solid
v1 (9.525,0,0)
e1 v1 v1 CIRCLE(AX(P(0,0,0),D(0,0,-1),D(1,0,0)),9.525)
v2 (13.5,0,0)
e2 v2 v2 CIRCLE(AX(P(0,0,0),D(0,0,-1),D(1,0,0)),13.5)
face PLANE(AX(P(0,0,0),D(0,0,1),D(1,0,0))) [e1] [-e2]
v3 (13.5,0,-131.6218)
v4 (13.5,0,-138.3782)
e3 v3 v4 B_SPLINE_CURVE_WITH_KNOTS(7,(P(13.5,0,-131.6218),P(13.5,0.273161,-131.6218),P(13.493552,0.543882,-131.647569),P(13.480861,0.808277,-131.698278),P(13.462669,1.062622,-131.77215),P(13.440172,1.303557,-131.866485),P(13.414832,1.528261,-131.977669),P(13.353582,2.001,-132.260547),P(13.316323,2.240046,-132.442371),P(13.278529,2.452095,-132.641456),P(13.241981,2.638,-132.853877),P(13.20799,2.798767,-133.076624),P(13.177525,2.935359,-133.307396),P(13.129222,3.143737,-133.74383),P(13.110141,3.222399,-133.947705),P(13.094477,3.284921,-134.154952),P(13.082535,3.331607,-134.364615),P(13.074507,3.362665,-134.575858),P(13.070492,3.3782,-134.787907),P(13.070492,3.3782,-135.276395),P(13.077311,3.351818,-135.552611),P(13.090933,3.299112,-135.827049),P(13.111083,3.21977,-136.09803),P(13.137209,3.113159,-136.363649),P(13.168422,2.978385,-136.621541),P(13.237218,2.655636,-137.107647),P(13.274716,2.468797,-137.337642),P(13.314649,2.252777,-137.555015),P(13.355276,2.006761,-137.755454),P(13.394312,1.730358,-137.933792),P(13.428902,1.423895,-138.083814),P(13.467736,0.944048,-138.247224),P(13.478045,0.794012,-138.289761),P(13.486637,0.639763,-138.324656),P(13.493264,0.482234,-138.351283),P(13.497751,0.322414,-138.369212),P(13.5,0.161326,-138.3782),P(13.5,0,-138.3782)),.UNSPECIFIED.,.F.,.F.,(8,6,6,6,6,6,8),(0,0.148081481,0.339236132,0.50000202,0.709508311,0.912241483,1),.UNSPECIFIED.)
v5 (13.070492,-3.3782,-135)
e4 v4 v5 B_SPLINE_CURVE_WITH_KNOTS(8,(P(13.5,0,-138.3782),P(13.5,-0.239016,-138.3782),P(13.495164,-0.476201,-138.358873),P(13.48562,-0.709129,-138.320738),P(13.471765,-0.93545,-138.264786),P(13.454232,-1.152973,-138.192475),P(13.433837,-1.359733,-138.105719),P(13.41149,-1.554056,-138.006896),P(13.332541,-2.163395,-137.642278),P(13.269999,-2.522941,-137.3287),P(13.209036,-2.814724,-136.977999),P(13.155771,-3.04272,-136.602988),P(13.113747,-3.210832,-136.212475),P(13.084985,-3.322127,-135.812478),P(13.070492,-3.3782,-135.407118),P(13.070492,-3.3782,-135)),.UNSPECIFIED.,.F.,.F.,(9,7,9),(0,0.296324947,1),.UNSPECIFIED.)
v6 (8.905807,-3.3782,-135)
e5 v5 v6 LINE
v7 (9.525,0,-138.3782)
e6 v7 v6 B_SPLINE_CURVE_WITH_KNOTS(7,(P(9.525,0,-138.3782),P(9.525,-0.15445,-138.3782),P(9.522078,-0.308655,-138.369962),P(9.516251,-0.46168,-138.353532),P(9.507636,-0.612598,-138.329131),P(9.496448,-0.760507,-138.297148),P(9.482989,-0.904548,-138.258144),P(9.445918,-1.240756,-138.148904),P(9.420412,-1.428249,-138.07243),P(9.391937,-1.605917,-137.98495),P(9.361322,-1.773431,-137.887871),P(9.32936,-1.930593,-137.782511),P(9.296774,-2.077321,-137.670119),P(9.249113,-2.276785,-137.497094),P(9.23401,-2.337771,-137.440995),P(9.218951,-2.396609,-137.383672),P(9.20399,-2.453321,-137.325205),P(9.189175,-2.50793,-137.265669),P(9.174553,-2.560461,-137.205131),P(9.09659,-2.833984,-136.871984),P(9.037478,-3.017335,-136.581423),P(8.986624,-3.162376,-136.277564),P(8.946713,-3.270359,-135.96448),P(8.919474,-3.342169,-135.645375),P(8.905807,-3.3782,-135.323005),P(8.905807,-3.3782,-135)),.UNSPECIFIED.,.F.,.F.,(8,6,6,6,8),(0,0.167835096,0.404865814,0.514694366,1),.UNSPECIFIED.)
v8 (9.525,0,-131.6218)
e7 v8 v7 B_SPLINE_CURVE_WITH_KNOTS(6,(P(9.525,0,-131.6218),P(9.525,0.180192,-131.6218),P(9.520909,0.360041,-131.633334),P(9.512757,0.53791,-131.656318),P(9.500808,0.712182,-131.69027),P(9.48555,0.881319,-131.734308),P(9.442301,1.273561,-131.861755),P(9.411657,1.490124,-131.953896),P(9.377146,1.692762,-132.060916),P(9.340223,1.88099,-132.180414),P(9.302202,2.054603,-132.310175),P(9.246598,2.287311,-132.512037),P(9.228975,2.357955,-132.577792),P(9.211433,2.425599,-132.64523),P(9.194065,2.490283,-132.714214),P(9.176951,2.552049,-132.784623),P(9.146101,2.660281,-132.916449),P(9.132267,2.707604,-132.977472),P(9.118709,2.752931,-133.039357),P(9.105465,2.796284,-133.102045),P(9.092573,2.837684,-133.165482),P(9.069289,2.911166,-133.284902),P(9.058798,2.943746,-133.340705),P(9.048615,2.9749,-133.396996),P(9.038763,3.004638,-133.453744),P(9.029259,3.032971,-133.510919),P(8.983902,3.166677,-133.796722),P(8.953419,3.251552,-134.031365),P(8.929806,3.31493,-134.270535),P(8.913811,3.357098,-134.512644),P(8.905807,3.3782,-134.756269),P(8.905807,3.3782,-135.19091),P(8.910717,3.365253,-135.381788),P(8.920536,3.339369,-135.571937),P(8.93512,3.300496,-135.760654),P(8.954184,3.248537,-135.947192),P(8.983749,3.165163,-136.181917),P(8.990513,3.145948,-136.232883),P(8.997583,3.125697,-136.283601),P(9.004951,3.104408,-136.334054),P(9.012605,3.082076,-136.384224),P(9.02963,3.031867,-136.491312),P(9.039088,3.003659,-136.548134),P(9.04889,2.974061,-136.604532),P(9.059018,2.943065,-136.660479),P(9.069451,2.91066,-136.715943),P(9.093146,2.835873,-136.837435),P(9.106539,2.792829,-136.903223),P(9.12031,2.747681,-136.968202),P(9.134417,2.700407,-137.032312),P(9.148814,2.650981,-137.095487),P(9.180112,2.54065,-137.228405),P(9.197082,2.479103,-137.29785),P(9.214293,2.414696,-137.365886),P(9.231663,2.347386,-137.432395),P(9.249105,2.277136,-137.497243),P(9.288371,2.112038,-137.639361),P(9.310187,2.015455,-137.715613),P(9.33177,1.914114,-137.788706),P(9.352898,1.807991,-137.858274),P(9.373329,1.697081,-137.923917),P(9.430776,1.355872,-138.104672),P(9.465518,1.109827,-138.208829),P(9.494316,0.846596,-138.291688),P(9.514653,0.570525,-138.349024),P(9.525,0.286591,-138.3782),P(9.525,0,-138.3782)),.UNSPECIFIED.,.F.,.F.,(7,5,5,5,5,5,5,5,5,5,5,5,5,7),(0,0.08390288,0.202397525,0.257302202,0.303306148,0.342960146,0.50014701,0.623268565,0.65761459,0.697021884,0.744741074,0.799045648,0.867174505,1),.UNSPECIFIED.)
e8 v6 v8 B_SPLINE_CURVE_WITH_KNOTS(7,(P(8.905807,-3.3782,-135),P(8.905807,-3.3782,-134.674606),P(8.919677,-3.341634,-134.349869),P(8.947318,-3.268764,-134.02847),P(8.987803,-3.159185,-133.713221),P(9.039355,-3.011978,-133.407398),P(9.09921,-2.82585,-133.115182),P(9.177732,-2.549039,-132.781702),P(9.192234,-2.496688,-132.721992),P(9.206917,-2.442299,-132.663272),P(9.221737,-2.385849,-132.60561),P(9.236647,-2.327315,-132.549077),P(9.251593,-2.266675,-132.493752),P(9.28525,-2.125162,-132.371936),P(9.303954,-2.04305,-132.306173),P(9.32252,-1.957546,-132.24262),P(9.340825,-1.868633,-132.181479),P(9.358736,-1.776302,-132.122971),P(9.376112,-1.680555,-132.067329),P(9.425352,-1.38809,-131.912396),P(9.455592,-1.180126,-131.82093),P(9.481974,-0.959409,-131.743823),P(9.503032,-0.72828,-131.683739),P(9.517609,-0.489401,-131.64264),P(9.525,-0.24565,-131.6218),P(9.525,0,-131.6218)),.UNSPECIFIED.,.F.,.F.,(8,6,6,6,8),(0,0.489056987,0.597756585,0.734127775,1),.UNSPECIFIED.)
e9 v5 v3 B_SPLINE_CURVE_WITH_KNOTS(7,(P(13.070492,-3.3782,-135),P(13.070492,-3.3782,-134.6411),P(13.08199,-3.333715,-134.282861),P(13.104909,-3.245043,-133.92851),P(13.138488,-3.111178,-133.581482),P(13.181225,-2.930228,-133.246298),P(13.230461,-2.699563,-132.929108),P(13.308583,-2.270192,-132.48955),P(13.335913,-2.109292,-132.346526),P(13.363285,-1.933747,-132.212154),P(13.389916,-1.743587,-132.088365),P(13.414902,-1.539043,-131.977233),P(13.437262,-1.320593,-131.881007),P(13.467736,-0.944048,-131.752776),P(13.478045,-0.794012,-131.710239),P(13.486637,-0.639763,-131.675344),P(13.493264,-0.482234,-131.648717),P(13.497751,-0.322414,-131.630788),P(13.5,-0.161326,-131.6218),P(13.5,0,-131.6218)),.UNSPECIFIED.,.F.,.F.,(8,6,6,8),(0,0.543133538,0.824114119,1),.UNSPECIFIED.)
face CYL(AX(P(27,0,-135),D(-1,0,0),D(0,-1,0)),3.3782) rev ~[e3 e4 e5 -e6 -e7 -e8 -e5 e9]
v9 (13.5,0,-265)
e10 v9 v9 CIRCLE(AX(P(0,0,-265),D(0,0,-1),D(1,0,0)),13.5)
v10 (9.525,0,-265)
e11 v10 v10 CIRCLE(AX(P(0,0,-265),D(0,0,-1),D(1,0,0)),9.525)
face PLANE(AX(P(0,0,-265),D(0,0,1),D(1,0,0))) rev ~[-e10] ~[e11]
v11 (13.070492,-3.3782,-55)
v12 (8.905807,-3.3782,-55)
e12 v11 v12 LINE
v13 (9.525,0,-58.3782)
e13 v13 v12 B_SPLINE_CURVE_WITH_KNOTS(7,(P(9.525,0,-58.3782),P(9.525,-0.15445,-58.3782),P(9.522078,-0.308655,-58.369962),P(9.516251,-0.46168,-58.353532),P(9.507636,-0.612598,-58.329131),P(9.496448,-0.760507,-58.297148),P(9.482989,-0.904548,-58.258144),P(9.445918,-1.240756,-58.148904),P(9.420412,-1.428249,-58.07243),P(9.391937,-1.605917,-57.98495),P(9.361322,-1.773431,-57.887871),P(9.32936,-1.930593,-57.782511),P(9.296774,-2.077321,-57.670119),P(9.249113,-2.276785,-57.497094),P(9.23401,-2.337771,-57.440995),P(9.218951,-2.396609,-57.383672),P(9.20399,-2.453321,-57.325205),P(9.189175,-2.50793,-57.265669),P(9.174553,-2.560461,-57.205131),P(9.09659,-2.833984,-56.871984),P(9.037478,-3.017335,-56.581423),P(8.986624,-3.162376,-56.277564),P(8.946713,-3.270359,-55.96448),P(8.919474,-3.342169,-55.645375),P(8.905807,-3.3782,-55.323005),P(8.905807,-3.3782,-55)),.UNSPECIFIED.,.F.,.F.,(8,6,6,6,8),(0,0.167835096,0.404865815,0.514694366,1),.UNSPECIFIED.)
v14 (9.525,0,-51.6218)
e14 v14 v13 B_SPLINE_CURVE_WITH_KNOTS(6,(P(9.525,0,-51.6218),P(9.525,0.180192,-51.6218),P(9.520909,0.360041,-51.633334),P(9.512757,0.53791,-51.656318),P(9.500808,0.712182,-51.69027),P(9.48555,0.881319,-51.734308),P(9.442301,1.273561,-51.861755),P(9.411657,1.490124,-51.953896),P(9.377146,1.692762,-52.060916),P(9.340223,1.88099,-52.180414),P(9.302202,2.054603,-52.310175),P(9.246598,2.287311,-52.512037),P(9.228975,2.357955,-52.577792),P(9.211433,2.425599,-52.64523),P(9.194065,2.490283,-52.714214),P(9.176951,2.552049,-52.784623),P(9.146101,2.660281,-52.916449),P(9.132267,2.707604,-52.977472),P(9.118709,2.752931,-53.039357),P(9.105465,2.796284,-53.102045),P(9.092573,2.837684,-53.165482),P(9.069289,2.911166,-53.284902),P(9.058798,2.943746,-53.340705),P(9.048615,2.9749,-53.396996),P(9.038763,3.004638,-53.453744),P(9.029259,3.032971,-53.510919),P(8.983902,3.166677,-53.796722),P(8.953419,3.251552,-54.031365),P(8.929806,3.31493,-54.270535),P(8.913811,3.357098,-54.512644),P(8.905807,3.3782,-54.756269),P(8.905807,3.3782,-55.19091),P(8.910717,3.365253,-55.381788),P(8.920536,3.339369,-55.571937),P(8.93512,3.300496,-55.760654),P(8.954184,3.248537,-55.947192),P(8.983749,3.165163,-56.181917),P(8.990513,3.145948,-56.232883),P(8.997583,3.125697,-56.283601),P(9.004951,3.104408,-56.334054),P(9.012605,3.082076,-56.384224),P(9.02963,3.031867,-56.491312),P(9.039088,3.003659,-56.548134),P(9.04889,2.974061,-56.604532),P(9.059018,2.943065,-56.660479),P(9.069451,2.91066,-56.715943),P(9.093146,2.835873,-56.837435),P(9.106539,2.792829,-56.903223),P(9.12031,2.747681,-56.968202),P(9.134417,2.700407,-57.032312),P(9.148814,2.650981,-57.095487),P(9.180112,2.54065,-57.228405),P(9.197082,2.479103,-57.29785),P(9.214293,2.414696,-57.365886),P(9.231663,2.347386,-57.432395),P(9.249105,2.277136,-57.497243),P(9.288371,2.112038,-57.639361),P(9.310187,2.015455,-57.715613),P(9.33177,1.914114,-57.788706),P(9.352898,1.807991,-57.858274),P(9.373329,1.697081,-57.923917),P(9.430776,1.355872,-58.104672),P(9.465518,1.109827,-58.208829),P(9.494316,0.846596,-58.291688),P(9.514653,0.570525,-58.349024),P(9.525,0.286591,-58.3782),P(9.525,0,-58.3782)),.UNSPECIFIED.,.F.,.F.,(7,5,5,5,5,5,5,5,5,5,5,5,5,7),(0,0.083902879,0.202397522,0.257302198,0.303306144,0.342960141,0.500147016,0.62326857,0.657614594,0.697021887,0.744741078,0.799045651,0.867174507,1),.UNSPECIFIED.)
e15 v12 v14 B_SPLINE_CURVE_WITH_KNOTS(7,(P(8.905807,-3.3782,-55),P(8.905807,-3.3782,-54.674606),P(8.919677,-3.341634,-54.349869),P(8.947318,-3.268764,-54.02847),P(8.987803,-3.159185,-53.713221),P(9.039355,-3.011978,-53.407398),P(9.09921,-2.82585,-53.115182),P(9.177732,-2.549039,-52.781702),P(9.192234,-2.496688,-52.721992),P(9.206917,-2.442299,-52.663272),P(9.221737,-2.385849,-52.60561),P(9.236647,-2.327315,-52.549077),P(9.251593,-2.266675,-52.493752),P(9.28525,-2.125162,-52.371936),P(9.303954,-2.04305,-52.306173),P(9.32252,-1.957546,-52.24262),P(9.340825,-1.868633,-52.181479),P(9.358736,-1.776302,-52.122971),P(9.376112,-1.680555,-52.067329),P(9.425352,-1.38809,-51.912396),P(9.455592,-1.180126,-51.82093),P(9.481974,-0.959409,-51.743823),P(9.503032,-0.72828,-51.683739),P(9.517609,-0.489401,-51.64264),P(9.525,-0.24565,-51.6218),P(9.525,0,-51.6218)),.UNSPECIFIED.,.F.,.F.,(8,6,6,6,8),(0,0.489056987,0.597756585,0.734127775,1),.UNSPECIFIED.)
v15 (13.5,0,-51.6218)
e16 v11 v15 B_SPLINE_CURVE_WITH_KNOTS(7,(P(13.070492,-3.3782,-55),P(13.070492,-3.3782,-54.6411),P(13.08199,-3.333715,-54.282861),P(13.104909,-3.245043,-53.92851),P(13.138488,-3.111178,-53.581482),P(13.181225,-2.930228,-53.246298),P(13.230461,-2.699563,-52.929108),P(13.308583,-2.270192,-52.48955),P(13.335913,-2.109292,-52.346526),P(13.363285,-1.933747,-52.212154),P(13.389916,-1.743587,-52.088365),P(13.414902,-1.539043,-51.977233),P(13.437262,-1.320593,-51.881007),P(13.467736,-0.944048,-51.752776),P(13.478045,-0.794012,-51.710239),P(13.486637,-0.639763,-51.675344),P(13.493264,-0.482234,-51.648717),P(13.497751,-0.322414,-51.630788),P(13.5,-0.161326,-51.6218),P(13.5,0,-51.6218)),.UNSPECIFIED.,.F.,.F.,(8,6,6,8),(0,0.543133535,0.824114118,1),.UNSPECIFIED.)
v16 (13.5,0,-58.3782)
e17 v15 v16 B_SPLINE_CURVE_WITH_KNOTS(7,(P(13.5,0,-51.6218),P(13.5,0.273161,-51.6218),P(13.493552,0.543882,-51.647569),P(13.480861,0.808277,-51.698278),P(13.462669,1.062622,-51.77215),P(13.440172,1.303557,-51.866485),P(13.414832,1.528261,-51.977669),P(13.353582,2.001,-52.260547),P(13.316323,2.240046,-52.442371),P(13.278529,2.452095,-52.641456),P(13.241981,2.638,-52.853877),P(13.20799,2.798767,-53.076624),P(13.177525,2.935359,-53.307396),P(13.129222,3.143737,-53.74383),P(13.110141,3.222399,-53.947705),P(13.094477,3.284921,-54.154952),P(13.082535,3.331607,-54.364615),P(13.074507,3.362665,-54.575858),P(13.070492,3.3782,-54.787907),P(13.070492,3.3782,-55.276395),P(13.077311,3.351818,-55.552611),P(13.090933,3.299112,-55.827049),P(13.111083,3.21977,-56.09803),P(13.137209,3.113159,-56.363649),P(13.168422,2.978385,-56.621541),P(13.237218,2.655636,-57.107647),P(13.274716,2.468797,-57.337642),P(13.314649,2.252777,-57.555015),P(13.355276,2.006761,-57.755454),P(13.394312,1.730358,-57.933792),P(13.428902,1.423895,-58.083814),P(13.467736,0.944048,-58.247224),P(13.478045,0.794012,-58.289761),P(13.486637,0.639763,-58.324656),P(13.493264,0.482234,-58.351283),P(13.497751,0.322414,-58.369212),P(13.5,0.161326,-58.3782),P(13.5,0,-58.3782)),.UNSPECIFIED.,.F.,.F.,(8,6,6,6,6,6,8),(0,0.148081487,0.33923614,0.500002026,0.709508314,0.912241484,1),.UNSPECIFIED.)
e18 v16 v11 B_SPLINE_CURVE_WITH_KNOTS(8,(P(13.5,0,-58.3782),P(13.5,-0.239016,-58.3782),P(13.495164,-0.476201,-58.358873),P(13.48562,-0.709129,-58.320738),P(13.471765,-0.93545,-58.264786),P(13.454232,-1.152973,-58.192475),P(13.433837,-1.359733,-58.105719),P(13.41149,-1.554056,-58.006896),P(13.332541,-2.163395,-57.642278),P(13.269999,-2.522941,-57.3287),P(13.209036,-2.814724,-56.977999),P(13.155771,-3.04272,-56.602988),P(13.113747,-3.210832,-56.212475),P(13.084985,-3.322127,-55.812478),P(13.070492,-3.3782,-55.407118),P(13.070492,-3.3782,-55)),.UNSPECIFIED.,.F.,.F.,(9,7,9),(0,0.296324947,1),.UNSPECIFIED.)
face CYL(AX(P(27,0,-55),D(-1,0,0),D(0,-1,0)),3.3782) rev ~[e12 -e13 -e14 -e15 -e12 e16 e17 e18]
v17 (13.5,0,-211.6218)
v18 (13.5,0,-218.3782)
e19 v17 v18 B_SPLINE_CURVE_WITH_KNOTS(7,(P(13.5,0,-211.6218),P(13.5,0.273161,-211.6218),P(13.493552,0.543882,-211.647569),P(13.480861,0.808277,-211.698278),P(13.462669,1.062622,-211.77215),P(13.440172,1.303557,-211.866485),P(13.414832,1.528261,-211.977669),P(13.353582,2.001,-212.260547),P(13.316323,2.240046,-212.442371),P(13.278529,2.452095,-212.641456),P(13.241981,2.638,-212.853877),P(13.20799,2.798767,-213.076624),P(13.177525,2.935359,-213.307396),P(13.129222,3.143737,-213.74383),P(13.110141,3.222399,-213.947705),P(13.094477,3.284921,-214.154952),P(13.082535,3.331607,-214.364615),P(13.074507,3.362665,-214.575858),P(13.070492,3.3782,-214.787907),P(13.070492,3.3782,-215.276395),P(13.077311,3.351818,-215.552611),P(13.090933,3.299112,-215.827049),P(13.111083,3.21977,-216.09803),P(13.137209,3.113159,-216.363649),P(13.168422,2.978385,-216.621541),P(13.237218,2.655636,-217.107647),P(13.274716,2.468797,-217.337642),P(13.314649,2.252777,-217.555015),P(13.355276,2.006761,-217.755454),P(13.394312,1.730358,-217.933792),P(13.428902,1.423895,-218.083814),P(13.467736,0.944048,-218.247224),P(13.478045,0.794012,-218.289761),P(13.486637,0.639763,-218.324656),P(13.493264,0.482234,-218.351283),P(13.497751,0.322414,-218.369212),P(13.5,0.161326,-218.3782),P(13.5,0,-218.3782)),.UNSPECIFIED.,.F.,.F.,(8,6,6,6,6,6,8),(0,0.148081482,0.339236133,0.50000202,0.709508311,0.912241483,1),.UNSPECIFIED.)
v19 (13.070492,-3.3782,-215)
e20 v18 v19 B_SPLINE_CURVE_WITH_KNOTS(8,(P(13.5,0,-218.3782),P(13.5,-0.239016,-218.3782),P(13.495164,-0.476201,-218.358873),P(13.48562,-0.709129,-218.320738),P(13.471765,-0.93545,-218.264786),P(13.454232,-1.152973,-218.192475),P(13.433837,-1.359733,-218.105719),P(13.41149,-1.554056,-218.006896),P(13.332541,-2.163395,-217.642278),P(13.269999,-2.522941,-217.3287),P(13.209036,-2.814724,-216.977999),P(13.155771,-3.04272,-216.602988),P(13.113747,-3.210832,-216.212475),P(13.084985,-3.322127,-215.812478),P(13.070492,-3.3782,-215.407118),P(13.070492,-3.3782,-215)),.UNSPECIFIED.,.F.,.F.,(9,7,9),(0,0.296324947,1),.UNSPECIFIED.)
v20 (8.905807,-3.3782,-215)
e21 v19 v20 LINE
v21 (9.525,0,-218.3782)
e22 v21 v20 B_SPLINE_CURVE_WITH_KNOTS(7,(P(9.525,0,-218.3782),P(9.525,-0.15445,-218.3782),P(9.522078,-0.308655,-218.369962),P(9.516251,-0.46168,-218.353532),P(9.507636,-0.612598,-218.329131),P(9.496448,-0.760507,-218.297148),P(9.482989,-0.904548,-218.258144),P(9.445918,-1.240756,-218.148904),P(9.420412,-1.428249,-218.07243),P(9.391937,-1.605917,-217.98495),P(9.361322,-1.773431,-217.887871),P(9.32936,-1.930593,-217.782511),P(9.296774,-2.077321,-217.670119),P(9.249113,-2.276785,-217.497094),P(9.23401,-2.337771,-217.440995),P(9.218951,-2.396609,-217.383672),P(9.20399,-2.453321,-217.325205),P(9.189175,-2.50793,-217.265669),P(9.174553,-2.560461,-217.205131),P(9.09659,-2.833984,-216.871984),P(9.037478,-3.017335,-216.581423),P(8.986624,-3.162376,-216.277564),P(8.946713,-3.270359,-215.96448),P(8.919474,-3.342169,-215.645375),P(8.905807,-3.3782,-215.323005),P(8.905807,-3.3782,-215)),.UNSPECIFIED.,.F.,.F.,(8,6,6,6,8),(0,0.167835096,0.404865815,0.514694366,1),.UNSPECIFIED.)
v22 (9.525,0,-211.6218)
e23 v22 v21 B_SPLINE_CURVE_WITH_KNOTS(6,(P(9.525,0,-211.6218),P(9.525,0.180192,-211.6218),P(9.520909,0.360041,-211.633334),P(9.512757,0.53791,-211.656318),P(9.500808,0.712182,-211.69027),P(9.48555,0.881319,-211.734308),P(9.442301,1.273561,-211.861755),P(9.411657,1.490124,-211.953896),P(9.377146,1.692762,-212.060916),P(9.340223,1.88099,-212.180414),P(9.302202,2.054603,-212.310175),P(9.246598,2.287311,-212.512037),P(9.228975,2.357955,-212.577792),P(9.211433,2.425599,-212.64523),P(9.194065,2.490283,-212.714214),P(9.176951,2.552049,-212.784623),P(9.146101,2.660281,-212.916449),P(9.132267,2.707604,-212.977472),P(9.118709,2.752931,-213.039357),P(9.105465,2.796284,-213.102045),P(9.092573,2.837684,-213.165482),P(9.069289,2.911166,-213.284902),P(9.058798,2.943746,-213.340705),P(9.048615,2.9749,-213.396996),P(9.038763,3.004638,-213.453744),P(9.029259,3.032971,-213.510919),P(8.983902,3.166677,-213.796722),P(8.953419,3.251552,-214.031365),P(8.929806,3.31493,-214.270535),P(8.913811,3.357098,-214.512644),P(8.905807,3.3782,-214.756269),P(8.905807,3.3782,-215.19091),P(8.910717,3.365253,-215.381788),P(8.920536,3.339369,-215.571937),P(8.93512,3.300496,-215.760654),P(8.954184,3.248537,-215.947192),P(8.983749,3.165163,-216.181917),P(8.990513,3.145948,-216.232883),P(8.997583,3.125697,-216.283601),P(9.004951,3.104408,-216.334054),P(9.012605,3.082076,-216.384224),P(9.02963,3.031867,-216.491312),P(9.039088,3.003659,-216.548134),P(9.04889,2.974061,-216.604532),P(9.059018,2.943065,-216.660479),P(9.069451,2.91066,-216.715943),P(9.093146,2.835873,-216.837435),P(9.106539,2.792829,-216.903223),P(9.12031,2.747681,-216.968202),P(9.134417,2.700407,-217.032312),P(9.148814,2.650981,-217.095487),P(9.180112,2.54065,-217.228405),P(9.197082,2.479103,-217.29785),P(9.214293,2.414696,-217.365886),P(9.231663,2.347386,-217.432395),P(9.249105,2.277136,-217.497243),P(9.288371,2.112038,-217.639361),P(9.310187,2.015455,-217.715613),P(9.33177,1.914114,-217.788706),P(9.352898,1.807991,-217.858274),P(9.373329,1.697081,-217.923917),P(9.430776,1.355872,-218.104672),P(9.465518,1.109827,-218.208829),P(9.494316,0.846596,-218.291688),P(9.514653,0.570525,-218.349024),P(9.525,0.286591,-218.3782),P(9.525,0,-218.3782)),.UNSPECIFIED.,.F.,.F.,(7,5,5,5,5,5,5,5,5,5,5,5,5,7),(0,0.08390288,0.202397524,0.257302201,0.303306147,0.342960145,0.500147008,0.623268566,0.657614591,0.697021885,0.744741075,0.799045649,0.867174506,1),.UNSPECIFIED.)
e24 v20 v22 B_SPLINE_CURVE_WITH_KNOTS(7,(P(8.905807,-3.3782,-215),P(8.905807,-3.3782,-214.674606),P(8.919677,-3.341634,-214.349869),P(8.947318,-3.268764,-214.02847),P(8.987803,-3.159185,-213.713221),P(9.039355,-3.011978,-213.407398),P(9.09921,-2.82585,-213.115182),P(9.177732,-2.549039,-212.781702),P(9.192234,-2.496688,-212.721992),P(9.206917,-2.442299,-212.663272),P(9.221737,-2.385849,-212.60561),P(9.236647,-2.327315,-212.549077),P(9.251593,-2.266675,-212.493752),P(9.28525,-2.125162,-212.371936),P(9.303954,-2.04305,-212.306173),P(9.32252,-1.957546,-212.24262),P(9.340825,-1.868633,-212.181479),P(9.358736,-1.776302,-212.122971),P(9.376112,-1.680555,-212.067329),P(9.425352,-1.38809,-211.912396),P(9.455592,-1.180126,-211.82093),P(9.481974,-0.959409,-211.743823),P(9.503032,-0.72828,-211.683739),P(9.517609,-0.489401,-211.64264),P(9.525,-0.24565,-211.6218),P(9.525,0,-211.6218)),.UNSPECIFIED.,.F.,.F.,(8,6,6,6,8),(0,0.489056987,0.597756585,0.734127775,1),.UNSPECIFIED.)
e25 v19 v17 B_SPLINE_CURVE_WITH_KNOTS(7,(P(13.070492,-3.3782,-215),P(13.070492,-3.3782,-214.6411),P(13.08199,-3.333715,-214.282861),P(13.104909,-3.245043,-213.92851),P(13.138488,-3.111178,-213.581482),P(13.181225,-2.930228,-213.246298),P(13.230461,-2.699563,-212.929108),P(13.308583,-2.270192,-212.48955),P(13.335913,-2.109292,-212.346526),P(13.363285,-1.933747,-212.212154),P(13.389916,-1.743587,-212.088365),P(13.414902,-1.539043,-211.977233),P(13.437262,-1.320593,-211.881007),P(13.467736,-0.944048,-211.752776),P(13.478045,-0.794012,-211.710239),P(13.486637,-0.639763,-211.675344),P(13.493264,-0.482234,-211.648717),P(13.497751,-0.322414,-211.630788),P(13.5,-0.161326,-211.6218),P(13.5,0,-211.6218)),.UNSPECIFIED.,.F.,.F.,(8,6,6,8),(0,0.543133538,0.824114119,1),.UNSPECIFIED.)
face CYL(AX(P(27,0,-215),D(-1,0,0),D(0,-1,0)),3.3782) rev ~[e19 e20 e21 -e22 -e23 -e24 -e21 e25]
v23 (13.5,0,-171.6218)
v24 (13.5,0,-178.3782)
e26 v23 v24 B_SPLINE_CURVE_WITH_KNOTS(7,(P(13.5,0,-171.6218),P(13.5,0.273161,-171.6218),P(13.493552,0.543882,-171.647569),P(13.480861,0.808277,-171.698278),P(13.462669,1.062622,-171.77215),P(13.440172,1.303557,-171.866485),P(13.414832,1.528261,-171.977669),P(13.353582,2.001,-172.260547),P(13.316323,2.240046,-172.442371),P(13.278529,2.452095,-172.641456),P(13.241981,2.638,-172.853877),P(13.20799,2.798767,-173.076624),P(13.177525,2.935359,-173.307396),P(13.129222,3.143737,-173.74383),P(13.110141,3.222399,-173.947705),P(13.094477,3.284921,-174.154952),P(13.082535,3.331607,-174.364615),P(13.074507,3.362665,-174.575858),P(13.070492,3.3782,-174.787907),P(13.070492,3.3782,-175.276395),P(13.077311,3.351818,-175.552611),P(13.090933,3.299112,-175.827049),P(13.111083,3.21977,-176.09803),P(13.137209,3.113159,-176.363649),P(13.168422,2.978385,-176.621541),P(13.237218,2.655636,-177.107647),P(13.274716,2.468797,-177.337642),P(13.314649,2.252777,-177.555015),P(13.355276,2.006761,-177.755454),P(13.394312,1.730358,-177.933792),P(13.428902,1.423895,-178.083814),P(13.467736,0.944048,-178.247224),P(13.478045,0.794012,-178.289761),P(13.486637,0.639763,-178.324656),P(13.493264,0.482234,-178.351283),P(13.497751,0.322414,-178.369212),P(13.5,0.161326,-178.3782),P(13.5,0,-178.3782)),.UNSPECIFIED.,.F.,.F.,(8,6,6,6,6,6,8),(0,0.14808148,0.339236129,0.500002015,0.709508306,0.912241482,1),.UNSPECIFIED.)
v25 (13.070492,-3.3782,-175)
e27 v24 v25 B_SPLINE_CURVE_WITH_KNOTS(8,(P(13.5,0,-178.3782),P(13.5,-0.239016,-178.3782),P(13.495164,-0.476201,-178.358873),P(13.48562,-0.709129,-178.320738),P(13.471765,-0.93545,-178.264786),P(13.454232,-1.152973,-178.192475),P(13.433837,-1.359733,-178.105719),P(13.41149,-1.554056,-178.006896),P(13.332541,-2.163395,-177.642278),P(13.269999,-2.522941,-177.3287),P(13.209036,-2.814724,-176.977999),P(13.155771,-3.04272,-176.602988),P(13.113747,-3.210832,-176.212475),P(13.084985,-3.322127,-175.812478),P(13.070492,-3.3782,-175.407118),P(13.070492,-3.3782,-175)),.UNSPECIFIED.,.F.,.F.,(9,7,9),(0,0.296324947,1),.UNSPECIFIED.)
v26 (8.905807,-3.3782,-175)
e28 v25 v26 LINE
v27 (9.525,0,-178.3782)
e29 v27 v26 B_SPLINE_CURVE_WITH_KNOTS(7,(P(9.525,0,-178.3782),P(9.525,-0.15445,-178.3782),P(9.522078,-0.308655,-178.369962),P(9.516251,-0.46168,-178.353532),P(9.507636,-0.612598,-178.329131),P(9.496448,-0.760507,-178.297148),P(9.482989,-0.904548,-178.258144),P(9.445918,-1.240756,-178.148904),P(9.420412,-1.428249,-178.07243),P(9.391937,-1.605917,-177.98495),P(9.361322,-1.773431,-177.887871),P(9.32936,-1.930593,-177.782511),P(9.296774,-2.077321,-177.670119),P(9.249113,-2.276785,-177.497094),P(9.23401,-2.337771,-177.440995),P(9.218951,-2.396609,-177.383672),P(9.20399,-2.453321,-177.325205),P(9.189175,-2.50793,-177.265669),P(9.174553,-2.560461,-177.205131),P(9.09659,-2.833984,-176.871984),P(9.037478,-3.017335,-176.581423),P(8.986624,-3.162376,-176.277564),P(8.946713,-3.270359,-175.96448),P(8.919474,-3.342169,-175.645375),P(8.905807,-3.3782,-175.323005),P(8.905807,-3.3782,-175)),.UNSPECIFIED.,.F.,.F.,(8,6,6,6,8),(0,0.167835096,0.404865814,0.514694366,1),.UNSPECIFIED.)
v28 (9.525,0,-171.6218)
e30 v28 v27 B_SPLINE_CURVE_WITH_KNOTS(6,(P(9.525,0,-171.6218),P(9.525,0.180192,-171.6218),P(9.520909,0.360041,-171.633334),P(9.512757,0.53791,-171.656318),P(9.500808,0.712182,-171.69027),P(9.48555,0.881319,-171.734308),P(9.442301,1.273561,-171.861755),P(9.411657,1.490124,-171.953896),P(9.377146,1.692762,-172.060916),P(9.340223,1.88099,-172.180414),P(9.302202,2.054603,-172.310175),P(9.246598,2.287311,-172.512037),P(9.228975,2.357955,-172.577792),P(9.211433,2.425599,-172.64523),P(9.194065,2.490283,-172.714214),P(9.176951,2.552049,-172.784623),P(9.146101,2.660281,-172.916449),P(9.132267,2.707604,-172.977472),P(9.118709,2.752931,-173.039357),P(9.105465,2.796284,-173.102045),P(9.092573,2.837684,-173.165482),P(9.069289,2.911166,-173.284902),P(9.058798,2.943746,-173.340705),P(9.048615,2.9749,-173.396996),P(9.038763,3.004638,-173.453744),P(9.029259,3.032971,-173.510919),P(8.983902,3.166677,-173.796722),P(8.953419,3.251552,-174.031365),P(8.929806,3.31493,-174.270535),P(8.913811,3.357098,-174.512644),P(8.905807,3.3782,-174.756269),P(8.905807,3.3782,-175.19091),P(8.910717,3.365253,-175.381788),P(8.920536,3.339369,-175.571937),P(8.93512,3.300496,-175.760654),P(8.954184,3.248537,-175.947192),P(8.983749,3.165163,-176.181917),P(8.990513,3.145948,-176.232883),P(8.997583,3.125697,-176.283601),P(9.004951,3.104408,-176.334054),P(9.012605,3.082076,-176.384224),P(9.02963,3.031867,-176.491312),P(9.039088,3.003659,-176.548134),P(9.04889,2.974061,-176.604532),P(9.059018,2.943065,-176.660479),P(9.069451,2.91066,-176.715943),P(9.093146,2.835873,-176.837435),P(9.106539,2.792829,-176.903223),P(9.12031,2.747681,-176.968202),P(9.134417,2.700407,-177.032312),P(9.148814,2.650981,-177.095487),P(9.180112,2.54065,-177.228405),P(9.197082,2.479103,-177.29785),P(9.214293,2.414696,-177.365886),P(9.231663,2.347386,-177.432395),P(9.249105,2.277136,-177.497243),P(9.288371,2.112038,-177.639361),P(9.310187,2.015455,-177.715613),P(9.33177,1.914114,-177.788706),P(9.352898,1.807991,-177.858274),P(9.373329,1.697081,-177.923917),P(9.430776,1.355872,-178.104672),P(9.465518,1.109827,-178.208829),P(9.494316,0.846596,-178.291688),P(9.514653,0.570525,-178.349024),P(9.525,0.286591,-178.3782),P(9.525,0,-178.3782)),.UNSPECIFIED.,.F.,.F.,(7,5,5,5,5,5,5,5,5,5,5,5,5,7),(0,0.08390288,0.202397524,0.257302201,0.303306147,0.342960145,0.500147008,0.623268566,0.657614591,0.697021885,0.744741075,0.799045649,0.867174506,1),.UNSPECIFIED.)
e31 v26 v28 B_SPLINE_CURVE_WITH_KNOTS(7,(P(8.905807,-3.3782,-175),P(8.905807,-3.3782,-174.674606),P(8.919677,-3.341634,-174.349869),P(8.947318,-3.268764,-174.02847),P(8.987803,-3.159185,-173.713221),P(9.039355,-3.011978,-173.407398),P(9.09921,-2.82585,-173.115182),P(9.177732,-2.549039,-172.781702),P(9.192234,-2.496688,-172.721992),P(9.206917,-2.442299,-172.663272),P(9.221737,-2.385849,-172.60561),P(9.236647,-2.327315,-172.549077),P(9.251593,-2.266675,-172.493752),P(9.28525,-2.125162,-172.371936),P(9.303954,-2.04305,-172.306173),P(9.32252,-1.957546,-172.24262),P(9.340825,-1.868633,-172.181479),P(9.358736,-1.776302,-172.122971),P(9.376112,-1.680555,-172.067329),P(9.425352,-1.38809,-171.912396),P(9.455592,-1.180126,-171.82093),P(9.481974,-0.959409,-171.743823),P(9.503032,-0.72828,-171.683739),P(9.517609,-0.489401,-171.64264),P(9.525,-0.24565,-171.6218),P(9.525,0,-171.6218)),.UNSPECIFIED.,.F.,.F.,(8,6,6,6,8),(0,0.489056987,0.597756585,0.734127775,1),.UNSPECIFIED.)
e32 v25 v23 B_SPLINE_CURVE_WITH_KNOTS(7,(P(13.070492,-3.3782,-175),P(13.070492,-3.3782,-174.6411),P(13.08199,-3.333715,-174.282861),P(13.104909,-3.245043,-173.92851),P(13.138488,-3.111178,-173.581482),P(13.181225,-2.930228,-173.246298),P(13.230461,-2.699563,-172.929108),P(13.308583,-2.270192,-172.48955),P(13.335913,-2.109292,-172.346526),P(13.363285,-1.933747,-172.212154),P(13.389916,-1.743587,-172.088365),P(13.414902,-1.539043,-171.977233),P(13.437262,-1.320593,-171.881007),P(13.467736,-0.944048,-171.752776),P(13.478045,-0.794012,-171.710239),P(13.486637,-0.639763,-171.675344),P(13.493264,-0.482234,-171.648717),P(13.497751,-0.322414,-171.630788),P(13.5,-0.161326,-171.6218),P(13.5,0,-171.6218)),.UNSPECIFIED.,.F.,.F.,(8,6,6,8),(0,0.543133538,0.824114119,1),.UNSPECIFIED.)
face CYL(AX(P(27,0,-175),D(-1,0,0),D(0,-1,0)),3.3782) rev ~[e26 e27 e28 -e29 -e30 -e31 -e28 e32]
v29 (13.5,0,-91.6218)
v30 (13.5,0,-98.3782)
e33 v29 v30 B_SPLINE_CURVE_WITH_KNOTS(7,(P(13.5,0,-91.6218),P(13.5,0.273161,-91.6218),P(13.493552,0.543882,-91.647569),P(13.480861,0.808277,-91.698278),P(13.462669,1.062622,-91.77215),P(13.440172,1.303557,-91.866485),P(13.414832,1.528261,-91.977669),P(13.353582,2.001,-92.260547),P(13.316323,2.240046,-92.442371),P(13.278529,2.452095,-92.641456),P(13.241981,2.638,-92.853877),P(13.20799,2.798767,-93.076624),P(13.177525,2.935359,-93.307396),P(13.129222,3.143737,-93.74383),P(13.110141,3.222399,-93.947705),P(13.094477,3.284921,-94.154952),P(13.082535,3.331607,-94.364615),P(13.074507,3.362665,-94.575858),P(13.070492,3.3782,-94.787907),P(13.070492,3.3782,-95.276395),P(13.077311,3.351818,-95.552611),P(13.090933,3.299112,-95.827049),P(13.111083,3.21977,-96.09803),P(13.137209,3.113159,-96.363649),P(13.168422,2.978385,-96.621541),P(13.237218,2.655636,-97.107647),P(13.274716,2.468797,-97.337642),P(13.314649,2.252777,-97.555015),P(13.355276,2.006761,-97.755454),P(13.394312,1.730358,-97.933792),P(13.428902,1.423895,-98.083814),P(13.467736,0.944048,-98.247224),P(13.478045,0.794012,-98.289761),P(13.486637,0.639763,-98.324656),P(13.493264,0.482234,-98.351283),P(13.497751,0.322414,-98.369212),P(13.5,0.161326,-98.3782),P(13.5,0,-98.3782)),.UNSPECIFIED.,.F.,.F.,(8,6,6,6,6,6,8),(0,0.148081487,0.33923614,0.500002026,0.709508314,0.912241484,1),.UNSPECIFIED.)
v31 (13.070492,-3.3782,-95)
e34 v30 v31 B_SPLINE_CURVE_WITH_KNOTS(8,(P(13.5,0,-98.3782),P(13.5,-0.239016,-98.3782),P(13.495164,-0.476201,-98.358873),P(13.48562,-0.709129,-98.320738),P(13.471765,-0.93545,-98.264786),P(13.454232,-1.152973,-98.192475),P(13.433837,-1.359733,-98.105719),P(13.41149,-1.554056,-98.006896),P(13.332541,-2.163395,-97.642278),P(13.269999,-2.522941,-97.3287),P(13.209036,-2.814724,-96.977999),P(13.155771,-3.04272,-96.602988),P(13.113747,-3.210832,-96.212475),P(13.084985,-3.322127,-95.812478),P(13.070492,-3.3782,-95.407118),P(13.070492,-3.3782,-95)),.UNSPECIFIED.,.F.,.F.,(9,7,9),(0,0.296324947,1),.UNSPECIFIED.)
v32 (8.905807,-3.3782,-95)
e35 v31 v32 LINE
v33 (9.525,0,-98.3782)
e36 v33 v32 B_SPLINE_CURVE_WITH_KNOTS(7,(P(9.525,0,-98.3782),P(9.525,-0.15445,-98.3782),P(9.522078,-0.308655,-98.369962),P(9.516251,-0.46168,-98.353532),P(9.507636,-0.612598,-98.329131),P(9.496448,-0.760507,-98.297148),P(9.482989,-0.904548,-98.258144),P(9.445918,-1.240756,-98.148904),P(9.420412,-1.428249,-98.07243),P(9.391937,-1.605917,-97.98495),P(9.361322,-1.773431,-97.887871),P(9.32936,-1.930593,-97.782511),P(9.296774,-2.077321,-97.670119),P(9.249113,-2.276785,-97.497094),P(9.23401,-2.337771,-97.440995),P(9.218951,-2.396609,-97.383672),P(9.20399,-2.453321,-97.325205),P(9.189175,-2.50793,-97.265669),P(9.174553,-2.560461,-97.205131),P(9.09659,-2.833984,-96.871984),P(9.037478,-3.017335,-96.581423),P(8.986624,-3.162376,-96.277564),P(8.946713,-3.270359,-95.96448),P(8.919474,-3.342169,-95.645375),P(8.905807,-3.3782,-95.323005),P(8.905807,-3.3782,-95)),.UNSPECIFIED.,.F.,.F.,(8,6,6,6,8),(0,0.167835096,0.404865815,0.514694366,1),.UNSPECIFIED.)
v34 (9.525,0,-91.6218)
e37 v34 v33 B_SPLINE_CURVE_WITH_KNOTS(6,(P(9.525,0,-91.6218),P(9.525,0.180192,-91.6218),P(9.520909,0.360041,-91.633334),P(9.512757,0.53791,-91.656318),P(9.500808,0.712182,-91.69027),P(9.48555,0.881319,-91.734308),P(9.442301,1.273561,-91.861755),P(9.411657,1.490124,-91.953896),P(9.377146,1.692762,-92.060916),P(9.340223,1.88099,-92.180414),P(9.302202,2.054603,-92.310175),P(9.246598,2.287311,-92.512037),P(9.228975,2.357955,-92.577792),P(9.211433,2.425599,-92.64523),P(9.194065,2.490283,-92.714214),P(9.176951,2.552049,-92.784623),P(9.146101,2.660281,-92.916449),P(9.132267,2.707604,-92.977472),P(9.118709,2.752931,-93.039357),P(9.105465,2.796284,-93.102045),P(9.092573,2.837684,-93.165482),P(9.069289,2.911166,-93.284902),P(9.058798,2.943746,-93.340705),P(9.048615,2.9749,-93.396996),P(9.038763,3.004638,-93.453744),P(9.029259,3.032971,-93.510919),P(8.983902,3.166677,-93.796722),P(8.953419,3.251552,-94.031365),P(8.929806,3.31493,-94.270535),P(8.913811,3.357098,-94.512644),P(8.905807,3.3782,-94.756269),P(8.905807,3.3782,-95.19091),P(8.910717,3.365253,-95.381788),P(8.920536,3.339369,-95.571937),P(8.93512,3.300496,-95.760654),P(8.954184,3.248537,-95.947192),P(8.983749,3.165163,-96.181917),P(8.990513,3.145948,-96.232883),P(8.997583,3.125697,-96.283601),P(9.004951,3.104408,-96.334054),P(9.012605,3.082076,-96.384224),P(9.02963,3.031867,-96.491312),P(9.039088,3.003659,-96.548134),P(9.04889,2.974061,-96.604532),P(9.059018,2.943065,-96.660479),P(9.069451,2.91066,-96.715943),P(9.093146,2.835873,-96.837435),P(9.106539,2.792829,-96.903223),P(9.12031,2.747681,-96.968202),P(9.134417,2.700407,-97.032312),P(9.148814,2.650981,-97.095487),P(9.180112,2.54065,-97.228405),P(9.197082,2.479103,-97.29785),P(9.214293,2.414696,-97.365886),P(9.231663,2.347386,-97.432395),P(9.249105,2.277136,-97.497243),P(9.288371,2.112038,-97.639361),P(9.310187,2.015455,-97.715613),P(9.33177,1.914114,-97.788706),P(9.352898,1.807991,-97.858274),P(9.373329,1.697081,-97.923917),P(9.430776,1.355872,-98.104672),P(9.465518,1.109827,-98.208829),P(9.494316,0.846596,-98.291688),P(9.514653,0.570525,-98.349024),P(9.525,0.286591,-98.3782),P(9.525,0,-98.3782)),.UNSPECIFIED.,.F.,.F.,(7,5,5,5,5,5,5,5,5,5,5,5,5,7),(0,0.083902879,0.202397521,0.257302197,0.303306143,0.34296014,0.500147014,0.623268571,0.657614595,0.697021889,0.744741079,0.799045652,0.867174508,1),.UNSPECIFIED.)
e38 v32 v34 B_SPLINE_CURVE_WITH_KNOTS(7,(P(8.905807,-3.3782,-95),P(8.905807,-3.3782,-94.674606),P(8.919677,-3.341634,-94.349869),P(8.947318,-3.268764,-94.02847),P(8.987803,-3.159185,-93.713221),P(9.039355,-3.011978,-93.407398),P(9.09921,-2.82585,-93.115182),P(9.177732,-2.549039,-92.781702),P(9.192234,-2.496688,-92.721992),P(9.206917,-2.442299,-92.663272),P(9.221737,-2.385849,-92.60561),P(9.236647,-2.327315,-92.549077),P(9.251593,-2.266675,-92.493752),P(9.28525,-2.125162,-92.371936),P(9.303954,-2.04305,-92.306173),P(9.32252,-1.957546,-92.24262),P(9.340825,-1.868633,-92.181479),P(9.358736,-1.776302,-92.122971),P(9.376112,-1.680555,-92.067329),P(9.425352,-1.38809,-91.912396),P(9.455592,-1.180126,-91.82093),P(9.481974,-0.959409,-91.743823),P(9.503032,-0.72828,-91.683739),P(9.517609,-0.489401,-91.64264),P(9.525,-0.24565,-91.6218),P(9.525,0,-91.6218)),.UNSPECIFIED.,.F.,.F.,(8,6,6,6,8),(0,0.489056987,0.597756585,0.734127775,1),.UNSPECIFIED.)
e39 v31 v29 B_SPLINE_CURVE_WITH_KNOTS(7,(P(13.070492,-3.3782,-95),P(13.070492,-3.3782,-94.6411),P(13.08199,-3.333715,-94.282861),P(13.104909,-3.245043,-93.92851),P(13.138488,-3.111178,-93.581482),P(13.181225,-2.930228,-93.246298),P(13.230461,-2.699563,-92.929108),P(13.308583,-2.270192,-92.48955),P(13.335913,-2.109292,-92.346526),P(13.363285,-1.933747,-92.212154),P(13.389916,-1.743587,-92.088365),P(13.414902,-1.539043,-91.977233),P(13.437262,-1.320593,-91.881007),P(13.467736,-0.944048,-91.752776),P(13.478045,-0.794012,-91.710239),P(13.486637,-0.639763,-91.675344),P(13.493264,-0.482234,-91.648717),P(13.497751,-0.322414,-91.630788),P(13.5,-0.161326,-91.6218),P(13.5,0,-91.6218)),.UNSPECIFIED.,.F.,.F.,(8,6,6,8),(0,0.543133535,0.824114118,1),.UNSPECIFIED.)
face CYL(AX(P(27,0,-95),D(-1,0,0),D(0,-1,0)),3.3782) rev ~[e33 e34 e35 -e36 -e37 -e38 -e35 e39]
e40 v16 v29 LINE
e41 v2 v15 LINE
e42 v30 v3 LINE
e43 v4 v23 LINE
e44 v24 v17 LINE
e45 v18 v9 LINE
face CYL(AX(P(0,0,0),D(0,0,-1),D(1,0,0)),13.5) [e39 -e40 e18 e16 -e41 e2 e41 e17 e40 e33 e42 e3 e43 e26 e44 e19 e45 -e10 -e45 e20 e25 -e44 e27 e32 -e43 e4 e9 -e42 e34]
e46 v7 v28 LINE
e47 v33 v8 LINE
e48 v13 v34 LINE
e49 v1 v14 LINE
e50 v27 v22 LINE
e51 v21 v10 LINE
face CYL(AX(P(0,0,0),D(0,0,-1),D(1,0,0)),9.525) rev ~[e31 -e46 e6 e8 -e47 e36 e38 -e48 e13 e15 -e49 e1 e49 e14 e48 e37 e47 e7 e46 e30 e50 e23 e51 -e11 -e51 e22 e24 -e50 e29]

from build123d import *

# Parameters (mm, degrees)
SKETCH1_R                   = 13.5
SKETCH1_R_2                 = 9.525
F_1_4_CLEARANCE_HOLE2_D     = 6.7564
F_1_4_CLEARANCE_HOLE2_DEPTH = 13.5


with BuildPart() as part:
    # Sweep1: sweep along a curve in space
    with BuildLine() as sweep1_path:
        Line((0, 0, 0), (0, 0, -265))
    # Sketch1 → Sweep1 (sweep)
    with BuildSketch(Plane.XY):
        Circle(SKETCH1_R)
        Circle(SKETCH1_R_2, mode=Mode.SUBTRACT)
    sweep(path=sweep1_path.line)

    # 1/4 Clearance Hole2
    with Locations(Plane(origin=(13.5, 0, -215), x_dir=(0, 1, 0), z_dir=(1, 0, 0))):
        with Locations((0, 0), (0, 160), (0, 120), (0, 80), (0, 40)):
            Hole(F_1_4_CLEARANCE_HOLE2_D / 2, depth=F_1_4_CLEARANCE_HOLE2_DEPTH)


solid = part.part
